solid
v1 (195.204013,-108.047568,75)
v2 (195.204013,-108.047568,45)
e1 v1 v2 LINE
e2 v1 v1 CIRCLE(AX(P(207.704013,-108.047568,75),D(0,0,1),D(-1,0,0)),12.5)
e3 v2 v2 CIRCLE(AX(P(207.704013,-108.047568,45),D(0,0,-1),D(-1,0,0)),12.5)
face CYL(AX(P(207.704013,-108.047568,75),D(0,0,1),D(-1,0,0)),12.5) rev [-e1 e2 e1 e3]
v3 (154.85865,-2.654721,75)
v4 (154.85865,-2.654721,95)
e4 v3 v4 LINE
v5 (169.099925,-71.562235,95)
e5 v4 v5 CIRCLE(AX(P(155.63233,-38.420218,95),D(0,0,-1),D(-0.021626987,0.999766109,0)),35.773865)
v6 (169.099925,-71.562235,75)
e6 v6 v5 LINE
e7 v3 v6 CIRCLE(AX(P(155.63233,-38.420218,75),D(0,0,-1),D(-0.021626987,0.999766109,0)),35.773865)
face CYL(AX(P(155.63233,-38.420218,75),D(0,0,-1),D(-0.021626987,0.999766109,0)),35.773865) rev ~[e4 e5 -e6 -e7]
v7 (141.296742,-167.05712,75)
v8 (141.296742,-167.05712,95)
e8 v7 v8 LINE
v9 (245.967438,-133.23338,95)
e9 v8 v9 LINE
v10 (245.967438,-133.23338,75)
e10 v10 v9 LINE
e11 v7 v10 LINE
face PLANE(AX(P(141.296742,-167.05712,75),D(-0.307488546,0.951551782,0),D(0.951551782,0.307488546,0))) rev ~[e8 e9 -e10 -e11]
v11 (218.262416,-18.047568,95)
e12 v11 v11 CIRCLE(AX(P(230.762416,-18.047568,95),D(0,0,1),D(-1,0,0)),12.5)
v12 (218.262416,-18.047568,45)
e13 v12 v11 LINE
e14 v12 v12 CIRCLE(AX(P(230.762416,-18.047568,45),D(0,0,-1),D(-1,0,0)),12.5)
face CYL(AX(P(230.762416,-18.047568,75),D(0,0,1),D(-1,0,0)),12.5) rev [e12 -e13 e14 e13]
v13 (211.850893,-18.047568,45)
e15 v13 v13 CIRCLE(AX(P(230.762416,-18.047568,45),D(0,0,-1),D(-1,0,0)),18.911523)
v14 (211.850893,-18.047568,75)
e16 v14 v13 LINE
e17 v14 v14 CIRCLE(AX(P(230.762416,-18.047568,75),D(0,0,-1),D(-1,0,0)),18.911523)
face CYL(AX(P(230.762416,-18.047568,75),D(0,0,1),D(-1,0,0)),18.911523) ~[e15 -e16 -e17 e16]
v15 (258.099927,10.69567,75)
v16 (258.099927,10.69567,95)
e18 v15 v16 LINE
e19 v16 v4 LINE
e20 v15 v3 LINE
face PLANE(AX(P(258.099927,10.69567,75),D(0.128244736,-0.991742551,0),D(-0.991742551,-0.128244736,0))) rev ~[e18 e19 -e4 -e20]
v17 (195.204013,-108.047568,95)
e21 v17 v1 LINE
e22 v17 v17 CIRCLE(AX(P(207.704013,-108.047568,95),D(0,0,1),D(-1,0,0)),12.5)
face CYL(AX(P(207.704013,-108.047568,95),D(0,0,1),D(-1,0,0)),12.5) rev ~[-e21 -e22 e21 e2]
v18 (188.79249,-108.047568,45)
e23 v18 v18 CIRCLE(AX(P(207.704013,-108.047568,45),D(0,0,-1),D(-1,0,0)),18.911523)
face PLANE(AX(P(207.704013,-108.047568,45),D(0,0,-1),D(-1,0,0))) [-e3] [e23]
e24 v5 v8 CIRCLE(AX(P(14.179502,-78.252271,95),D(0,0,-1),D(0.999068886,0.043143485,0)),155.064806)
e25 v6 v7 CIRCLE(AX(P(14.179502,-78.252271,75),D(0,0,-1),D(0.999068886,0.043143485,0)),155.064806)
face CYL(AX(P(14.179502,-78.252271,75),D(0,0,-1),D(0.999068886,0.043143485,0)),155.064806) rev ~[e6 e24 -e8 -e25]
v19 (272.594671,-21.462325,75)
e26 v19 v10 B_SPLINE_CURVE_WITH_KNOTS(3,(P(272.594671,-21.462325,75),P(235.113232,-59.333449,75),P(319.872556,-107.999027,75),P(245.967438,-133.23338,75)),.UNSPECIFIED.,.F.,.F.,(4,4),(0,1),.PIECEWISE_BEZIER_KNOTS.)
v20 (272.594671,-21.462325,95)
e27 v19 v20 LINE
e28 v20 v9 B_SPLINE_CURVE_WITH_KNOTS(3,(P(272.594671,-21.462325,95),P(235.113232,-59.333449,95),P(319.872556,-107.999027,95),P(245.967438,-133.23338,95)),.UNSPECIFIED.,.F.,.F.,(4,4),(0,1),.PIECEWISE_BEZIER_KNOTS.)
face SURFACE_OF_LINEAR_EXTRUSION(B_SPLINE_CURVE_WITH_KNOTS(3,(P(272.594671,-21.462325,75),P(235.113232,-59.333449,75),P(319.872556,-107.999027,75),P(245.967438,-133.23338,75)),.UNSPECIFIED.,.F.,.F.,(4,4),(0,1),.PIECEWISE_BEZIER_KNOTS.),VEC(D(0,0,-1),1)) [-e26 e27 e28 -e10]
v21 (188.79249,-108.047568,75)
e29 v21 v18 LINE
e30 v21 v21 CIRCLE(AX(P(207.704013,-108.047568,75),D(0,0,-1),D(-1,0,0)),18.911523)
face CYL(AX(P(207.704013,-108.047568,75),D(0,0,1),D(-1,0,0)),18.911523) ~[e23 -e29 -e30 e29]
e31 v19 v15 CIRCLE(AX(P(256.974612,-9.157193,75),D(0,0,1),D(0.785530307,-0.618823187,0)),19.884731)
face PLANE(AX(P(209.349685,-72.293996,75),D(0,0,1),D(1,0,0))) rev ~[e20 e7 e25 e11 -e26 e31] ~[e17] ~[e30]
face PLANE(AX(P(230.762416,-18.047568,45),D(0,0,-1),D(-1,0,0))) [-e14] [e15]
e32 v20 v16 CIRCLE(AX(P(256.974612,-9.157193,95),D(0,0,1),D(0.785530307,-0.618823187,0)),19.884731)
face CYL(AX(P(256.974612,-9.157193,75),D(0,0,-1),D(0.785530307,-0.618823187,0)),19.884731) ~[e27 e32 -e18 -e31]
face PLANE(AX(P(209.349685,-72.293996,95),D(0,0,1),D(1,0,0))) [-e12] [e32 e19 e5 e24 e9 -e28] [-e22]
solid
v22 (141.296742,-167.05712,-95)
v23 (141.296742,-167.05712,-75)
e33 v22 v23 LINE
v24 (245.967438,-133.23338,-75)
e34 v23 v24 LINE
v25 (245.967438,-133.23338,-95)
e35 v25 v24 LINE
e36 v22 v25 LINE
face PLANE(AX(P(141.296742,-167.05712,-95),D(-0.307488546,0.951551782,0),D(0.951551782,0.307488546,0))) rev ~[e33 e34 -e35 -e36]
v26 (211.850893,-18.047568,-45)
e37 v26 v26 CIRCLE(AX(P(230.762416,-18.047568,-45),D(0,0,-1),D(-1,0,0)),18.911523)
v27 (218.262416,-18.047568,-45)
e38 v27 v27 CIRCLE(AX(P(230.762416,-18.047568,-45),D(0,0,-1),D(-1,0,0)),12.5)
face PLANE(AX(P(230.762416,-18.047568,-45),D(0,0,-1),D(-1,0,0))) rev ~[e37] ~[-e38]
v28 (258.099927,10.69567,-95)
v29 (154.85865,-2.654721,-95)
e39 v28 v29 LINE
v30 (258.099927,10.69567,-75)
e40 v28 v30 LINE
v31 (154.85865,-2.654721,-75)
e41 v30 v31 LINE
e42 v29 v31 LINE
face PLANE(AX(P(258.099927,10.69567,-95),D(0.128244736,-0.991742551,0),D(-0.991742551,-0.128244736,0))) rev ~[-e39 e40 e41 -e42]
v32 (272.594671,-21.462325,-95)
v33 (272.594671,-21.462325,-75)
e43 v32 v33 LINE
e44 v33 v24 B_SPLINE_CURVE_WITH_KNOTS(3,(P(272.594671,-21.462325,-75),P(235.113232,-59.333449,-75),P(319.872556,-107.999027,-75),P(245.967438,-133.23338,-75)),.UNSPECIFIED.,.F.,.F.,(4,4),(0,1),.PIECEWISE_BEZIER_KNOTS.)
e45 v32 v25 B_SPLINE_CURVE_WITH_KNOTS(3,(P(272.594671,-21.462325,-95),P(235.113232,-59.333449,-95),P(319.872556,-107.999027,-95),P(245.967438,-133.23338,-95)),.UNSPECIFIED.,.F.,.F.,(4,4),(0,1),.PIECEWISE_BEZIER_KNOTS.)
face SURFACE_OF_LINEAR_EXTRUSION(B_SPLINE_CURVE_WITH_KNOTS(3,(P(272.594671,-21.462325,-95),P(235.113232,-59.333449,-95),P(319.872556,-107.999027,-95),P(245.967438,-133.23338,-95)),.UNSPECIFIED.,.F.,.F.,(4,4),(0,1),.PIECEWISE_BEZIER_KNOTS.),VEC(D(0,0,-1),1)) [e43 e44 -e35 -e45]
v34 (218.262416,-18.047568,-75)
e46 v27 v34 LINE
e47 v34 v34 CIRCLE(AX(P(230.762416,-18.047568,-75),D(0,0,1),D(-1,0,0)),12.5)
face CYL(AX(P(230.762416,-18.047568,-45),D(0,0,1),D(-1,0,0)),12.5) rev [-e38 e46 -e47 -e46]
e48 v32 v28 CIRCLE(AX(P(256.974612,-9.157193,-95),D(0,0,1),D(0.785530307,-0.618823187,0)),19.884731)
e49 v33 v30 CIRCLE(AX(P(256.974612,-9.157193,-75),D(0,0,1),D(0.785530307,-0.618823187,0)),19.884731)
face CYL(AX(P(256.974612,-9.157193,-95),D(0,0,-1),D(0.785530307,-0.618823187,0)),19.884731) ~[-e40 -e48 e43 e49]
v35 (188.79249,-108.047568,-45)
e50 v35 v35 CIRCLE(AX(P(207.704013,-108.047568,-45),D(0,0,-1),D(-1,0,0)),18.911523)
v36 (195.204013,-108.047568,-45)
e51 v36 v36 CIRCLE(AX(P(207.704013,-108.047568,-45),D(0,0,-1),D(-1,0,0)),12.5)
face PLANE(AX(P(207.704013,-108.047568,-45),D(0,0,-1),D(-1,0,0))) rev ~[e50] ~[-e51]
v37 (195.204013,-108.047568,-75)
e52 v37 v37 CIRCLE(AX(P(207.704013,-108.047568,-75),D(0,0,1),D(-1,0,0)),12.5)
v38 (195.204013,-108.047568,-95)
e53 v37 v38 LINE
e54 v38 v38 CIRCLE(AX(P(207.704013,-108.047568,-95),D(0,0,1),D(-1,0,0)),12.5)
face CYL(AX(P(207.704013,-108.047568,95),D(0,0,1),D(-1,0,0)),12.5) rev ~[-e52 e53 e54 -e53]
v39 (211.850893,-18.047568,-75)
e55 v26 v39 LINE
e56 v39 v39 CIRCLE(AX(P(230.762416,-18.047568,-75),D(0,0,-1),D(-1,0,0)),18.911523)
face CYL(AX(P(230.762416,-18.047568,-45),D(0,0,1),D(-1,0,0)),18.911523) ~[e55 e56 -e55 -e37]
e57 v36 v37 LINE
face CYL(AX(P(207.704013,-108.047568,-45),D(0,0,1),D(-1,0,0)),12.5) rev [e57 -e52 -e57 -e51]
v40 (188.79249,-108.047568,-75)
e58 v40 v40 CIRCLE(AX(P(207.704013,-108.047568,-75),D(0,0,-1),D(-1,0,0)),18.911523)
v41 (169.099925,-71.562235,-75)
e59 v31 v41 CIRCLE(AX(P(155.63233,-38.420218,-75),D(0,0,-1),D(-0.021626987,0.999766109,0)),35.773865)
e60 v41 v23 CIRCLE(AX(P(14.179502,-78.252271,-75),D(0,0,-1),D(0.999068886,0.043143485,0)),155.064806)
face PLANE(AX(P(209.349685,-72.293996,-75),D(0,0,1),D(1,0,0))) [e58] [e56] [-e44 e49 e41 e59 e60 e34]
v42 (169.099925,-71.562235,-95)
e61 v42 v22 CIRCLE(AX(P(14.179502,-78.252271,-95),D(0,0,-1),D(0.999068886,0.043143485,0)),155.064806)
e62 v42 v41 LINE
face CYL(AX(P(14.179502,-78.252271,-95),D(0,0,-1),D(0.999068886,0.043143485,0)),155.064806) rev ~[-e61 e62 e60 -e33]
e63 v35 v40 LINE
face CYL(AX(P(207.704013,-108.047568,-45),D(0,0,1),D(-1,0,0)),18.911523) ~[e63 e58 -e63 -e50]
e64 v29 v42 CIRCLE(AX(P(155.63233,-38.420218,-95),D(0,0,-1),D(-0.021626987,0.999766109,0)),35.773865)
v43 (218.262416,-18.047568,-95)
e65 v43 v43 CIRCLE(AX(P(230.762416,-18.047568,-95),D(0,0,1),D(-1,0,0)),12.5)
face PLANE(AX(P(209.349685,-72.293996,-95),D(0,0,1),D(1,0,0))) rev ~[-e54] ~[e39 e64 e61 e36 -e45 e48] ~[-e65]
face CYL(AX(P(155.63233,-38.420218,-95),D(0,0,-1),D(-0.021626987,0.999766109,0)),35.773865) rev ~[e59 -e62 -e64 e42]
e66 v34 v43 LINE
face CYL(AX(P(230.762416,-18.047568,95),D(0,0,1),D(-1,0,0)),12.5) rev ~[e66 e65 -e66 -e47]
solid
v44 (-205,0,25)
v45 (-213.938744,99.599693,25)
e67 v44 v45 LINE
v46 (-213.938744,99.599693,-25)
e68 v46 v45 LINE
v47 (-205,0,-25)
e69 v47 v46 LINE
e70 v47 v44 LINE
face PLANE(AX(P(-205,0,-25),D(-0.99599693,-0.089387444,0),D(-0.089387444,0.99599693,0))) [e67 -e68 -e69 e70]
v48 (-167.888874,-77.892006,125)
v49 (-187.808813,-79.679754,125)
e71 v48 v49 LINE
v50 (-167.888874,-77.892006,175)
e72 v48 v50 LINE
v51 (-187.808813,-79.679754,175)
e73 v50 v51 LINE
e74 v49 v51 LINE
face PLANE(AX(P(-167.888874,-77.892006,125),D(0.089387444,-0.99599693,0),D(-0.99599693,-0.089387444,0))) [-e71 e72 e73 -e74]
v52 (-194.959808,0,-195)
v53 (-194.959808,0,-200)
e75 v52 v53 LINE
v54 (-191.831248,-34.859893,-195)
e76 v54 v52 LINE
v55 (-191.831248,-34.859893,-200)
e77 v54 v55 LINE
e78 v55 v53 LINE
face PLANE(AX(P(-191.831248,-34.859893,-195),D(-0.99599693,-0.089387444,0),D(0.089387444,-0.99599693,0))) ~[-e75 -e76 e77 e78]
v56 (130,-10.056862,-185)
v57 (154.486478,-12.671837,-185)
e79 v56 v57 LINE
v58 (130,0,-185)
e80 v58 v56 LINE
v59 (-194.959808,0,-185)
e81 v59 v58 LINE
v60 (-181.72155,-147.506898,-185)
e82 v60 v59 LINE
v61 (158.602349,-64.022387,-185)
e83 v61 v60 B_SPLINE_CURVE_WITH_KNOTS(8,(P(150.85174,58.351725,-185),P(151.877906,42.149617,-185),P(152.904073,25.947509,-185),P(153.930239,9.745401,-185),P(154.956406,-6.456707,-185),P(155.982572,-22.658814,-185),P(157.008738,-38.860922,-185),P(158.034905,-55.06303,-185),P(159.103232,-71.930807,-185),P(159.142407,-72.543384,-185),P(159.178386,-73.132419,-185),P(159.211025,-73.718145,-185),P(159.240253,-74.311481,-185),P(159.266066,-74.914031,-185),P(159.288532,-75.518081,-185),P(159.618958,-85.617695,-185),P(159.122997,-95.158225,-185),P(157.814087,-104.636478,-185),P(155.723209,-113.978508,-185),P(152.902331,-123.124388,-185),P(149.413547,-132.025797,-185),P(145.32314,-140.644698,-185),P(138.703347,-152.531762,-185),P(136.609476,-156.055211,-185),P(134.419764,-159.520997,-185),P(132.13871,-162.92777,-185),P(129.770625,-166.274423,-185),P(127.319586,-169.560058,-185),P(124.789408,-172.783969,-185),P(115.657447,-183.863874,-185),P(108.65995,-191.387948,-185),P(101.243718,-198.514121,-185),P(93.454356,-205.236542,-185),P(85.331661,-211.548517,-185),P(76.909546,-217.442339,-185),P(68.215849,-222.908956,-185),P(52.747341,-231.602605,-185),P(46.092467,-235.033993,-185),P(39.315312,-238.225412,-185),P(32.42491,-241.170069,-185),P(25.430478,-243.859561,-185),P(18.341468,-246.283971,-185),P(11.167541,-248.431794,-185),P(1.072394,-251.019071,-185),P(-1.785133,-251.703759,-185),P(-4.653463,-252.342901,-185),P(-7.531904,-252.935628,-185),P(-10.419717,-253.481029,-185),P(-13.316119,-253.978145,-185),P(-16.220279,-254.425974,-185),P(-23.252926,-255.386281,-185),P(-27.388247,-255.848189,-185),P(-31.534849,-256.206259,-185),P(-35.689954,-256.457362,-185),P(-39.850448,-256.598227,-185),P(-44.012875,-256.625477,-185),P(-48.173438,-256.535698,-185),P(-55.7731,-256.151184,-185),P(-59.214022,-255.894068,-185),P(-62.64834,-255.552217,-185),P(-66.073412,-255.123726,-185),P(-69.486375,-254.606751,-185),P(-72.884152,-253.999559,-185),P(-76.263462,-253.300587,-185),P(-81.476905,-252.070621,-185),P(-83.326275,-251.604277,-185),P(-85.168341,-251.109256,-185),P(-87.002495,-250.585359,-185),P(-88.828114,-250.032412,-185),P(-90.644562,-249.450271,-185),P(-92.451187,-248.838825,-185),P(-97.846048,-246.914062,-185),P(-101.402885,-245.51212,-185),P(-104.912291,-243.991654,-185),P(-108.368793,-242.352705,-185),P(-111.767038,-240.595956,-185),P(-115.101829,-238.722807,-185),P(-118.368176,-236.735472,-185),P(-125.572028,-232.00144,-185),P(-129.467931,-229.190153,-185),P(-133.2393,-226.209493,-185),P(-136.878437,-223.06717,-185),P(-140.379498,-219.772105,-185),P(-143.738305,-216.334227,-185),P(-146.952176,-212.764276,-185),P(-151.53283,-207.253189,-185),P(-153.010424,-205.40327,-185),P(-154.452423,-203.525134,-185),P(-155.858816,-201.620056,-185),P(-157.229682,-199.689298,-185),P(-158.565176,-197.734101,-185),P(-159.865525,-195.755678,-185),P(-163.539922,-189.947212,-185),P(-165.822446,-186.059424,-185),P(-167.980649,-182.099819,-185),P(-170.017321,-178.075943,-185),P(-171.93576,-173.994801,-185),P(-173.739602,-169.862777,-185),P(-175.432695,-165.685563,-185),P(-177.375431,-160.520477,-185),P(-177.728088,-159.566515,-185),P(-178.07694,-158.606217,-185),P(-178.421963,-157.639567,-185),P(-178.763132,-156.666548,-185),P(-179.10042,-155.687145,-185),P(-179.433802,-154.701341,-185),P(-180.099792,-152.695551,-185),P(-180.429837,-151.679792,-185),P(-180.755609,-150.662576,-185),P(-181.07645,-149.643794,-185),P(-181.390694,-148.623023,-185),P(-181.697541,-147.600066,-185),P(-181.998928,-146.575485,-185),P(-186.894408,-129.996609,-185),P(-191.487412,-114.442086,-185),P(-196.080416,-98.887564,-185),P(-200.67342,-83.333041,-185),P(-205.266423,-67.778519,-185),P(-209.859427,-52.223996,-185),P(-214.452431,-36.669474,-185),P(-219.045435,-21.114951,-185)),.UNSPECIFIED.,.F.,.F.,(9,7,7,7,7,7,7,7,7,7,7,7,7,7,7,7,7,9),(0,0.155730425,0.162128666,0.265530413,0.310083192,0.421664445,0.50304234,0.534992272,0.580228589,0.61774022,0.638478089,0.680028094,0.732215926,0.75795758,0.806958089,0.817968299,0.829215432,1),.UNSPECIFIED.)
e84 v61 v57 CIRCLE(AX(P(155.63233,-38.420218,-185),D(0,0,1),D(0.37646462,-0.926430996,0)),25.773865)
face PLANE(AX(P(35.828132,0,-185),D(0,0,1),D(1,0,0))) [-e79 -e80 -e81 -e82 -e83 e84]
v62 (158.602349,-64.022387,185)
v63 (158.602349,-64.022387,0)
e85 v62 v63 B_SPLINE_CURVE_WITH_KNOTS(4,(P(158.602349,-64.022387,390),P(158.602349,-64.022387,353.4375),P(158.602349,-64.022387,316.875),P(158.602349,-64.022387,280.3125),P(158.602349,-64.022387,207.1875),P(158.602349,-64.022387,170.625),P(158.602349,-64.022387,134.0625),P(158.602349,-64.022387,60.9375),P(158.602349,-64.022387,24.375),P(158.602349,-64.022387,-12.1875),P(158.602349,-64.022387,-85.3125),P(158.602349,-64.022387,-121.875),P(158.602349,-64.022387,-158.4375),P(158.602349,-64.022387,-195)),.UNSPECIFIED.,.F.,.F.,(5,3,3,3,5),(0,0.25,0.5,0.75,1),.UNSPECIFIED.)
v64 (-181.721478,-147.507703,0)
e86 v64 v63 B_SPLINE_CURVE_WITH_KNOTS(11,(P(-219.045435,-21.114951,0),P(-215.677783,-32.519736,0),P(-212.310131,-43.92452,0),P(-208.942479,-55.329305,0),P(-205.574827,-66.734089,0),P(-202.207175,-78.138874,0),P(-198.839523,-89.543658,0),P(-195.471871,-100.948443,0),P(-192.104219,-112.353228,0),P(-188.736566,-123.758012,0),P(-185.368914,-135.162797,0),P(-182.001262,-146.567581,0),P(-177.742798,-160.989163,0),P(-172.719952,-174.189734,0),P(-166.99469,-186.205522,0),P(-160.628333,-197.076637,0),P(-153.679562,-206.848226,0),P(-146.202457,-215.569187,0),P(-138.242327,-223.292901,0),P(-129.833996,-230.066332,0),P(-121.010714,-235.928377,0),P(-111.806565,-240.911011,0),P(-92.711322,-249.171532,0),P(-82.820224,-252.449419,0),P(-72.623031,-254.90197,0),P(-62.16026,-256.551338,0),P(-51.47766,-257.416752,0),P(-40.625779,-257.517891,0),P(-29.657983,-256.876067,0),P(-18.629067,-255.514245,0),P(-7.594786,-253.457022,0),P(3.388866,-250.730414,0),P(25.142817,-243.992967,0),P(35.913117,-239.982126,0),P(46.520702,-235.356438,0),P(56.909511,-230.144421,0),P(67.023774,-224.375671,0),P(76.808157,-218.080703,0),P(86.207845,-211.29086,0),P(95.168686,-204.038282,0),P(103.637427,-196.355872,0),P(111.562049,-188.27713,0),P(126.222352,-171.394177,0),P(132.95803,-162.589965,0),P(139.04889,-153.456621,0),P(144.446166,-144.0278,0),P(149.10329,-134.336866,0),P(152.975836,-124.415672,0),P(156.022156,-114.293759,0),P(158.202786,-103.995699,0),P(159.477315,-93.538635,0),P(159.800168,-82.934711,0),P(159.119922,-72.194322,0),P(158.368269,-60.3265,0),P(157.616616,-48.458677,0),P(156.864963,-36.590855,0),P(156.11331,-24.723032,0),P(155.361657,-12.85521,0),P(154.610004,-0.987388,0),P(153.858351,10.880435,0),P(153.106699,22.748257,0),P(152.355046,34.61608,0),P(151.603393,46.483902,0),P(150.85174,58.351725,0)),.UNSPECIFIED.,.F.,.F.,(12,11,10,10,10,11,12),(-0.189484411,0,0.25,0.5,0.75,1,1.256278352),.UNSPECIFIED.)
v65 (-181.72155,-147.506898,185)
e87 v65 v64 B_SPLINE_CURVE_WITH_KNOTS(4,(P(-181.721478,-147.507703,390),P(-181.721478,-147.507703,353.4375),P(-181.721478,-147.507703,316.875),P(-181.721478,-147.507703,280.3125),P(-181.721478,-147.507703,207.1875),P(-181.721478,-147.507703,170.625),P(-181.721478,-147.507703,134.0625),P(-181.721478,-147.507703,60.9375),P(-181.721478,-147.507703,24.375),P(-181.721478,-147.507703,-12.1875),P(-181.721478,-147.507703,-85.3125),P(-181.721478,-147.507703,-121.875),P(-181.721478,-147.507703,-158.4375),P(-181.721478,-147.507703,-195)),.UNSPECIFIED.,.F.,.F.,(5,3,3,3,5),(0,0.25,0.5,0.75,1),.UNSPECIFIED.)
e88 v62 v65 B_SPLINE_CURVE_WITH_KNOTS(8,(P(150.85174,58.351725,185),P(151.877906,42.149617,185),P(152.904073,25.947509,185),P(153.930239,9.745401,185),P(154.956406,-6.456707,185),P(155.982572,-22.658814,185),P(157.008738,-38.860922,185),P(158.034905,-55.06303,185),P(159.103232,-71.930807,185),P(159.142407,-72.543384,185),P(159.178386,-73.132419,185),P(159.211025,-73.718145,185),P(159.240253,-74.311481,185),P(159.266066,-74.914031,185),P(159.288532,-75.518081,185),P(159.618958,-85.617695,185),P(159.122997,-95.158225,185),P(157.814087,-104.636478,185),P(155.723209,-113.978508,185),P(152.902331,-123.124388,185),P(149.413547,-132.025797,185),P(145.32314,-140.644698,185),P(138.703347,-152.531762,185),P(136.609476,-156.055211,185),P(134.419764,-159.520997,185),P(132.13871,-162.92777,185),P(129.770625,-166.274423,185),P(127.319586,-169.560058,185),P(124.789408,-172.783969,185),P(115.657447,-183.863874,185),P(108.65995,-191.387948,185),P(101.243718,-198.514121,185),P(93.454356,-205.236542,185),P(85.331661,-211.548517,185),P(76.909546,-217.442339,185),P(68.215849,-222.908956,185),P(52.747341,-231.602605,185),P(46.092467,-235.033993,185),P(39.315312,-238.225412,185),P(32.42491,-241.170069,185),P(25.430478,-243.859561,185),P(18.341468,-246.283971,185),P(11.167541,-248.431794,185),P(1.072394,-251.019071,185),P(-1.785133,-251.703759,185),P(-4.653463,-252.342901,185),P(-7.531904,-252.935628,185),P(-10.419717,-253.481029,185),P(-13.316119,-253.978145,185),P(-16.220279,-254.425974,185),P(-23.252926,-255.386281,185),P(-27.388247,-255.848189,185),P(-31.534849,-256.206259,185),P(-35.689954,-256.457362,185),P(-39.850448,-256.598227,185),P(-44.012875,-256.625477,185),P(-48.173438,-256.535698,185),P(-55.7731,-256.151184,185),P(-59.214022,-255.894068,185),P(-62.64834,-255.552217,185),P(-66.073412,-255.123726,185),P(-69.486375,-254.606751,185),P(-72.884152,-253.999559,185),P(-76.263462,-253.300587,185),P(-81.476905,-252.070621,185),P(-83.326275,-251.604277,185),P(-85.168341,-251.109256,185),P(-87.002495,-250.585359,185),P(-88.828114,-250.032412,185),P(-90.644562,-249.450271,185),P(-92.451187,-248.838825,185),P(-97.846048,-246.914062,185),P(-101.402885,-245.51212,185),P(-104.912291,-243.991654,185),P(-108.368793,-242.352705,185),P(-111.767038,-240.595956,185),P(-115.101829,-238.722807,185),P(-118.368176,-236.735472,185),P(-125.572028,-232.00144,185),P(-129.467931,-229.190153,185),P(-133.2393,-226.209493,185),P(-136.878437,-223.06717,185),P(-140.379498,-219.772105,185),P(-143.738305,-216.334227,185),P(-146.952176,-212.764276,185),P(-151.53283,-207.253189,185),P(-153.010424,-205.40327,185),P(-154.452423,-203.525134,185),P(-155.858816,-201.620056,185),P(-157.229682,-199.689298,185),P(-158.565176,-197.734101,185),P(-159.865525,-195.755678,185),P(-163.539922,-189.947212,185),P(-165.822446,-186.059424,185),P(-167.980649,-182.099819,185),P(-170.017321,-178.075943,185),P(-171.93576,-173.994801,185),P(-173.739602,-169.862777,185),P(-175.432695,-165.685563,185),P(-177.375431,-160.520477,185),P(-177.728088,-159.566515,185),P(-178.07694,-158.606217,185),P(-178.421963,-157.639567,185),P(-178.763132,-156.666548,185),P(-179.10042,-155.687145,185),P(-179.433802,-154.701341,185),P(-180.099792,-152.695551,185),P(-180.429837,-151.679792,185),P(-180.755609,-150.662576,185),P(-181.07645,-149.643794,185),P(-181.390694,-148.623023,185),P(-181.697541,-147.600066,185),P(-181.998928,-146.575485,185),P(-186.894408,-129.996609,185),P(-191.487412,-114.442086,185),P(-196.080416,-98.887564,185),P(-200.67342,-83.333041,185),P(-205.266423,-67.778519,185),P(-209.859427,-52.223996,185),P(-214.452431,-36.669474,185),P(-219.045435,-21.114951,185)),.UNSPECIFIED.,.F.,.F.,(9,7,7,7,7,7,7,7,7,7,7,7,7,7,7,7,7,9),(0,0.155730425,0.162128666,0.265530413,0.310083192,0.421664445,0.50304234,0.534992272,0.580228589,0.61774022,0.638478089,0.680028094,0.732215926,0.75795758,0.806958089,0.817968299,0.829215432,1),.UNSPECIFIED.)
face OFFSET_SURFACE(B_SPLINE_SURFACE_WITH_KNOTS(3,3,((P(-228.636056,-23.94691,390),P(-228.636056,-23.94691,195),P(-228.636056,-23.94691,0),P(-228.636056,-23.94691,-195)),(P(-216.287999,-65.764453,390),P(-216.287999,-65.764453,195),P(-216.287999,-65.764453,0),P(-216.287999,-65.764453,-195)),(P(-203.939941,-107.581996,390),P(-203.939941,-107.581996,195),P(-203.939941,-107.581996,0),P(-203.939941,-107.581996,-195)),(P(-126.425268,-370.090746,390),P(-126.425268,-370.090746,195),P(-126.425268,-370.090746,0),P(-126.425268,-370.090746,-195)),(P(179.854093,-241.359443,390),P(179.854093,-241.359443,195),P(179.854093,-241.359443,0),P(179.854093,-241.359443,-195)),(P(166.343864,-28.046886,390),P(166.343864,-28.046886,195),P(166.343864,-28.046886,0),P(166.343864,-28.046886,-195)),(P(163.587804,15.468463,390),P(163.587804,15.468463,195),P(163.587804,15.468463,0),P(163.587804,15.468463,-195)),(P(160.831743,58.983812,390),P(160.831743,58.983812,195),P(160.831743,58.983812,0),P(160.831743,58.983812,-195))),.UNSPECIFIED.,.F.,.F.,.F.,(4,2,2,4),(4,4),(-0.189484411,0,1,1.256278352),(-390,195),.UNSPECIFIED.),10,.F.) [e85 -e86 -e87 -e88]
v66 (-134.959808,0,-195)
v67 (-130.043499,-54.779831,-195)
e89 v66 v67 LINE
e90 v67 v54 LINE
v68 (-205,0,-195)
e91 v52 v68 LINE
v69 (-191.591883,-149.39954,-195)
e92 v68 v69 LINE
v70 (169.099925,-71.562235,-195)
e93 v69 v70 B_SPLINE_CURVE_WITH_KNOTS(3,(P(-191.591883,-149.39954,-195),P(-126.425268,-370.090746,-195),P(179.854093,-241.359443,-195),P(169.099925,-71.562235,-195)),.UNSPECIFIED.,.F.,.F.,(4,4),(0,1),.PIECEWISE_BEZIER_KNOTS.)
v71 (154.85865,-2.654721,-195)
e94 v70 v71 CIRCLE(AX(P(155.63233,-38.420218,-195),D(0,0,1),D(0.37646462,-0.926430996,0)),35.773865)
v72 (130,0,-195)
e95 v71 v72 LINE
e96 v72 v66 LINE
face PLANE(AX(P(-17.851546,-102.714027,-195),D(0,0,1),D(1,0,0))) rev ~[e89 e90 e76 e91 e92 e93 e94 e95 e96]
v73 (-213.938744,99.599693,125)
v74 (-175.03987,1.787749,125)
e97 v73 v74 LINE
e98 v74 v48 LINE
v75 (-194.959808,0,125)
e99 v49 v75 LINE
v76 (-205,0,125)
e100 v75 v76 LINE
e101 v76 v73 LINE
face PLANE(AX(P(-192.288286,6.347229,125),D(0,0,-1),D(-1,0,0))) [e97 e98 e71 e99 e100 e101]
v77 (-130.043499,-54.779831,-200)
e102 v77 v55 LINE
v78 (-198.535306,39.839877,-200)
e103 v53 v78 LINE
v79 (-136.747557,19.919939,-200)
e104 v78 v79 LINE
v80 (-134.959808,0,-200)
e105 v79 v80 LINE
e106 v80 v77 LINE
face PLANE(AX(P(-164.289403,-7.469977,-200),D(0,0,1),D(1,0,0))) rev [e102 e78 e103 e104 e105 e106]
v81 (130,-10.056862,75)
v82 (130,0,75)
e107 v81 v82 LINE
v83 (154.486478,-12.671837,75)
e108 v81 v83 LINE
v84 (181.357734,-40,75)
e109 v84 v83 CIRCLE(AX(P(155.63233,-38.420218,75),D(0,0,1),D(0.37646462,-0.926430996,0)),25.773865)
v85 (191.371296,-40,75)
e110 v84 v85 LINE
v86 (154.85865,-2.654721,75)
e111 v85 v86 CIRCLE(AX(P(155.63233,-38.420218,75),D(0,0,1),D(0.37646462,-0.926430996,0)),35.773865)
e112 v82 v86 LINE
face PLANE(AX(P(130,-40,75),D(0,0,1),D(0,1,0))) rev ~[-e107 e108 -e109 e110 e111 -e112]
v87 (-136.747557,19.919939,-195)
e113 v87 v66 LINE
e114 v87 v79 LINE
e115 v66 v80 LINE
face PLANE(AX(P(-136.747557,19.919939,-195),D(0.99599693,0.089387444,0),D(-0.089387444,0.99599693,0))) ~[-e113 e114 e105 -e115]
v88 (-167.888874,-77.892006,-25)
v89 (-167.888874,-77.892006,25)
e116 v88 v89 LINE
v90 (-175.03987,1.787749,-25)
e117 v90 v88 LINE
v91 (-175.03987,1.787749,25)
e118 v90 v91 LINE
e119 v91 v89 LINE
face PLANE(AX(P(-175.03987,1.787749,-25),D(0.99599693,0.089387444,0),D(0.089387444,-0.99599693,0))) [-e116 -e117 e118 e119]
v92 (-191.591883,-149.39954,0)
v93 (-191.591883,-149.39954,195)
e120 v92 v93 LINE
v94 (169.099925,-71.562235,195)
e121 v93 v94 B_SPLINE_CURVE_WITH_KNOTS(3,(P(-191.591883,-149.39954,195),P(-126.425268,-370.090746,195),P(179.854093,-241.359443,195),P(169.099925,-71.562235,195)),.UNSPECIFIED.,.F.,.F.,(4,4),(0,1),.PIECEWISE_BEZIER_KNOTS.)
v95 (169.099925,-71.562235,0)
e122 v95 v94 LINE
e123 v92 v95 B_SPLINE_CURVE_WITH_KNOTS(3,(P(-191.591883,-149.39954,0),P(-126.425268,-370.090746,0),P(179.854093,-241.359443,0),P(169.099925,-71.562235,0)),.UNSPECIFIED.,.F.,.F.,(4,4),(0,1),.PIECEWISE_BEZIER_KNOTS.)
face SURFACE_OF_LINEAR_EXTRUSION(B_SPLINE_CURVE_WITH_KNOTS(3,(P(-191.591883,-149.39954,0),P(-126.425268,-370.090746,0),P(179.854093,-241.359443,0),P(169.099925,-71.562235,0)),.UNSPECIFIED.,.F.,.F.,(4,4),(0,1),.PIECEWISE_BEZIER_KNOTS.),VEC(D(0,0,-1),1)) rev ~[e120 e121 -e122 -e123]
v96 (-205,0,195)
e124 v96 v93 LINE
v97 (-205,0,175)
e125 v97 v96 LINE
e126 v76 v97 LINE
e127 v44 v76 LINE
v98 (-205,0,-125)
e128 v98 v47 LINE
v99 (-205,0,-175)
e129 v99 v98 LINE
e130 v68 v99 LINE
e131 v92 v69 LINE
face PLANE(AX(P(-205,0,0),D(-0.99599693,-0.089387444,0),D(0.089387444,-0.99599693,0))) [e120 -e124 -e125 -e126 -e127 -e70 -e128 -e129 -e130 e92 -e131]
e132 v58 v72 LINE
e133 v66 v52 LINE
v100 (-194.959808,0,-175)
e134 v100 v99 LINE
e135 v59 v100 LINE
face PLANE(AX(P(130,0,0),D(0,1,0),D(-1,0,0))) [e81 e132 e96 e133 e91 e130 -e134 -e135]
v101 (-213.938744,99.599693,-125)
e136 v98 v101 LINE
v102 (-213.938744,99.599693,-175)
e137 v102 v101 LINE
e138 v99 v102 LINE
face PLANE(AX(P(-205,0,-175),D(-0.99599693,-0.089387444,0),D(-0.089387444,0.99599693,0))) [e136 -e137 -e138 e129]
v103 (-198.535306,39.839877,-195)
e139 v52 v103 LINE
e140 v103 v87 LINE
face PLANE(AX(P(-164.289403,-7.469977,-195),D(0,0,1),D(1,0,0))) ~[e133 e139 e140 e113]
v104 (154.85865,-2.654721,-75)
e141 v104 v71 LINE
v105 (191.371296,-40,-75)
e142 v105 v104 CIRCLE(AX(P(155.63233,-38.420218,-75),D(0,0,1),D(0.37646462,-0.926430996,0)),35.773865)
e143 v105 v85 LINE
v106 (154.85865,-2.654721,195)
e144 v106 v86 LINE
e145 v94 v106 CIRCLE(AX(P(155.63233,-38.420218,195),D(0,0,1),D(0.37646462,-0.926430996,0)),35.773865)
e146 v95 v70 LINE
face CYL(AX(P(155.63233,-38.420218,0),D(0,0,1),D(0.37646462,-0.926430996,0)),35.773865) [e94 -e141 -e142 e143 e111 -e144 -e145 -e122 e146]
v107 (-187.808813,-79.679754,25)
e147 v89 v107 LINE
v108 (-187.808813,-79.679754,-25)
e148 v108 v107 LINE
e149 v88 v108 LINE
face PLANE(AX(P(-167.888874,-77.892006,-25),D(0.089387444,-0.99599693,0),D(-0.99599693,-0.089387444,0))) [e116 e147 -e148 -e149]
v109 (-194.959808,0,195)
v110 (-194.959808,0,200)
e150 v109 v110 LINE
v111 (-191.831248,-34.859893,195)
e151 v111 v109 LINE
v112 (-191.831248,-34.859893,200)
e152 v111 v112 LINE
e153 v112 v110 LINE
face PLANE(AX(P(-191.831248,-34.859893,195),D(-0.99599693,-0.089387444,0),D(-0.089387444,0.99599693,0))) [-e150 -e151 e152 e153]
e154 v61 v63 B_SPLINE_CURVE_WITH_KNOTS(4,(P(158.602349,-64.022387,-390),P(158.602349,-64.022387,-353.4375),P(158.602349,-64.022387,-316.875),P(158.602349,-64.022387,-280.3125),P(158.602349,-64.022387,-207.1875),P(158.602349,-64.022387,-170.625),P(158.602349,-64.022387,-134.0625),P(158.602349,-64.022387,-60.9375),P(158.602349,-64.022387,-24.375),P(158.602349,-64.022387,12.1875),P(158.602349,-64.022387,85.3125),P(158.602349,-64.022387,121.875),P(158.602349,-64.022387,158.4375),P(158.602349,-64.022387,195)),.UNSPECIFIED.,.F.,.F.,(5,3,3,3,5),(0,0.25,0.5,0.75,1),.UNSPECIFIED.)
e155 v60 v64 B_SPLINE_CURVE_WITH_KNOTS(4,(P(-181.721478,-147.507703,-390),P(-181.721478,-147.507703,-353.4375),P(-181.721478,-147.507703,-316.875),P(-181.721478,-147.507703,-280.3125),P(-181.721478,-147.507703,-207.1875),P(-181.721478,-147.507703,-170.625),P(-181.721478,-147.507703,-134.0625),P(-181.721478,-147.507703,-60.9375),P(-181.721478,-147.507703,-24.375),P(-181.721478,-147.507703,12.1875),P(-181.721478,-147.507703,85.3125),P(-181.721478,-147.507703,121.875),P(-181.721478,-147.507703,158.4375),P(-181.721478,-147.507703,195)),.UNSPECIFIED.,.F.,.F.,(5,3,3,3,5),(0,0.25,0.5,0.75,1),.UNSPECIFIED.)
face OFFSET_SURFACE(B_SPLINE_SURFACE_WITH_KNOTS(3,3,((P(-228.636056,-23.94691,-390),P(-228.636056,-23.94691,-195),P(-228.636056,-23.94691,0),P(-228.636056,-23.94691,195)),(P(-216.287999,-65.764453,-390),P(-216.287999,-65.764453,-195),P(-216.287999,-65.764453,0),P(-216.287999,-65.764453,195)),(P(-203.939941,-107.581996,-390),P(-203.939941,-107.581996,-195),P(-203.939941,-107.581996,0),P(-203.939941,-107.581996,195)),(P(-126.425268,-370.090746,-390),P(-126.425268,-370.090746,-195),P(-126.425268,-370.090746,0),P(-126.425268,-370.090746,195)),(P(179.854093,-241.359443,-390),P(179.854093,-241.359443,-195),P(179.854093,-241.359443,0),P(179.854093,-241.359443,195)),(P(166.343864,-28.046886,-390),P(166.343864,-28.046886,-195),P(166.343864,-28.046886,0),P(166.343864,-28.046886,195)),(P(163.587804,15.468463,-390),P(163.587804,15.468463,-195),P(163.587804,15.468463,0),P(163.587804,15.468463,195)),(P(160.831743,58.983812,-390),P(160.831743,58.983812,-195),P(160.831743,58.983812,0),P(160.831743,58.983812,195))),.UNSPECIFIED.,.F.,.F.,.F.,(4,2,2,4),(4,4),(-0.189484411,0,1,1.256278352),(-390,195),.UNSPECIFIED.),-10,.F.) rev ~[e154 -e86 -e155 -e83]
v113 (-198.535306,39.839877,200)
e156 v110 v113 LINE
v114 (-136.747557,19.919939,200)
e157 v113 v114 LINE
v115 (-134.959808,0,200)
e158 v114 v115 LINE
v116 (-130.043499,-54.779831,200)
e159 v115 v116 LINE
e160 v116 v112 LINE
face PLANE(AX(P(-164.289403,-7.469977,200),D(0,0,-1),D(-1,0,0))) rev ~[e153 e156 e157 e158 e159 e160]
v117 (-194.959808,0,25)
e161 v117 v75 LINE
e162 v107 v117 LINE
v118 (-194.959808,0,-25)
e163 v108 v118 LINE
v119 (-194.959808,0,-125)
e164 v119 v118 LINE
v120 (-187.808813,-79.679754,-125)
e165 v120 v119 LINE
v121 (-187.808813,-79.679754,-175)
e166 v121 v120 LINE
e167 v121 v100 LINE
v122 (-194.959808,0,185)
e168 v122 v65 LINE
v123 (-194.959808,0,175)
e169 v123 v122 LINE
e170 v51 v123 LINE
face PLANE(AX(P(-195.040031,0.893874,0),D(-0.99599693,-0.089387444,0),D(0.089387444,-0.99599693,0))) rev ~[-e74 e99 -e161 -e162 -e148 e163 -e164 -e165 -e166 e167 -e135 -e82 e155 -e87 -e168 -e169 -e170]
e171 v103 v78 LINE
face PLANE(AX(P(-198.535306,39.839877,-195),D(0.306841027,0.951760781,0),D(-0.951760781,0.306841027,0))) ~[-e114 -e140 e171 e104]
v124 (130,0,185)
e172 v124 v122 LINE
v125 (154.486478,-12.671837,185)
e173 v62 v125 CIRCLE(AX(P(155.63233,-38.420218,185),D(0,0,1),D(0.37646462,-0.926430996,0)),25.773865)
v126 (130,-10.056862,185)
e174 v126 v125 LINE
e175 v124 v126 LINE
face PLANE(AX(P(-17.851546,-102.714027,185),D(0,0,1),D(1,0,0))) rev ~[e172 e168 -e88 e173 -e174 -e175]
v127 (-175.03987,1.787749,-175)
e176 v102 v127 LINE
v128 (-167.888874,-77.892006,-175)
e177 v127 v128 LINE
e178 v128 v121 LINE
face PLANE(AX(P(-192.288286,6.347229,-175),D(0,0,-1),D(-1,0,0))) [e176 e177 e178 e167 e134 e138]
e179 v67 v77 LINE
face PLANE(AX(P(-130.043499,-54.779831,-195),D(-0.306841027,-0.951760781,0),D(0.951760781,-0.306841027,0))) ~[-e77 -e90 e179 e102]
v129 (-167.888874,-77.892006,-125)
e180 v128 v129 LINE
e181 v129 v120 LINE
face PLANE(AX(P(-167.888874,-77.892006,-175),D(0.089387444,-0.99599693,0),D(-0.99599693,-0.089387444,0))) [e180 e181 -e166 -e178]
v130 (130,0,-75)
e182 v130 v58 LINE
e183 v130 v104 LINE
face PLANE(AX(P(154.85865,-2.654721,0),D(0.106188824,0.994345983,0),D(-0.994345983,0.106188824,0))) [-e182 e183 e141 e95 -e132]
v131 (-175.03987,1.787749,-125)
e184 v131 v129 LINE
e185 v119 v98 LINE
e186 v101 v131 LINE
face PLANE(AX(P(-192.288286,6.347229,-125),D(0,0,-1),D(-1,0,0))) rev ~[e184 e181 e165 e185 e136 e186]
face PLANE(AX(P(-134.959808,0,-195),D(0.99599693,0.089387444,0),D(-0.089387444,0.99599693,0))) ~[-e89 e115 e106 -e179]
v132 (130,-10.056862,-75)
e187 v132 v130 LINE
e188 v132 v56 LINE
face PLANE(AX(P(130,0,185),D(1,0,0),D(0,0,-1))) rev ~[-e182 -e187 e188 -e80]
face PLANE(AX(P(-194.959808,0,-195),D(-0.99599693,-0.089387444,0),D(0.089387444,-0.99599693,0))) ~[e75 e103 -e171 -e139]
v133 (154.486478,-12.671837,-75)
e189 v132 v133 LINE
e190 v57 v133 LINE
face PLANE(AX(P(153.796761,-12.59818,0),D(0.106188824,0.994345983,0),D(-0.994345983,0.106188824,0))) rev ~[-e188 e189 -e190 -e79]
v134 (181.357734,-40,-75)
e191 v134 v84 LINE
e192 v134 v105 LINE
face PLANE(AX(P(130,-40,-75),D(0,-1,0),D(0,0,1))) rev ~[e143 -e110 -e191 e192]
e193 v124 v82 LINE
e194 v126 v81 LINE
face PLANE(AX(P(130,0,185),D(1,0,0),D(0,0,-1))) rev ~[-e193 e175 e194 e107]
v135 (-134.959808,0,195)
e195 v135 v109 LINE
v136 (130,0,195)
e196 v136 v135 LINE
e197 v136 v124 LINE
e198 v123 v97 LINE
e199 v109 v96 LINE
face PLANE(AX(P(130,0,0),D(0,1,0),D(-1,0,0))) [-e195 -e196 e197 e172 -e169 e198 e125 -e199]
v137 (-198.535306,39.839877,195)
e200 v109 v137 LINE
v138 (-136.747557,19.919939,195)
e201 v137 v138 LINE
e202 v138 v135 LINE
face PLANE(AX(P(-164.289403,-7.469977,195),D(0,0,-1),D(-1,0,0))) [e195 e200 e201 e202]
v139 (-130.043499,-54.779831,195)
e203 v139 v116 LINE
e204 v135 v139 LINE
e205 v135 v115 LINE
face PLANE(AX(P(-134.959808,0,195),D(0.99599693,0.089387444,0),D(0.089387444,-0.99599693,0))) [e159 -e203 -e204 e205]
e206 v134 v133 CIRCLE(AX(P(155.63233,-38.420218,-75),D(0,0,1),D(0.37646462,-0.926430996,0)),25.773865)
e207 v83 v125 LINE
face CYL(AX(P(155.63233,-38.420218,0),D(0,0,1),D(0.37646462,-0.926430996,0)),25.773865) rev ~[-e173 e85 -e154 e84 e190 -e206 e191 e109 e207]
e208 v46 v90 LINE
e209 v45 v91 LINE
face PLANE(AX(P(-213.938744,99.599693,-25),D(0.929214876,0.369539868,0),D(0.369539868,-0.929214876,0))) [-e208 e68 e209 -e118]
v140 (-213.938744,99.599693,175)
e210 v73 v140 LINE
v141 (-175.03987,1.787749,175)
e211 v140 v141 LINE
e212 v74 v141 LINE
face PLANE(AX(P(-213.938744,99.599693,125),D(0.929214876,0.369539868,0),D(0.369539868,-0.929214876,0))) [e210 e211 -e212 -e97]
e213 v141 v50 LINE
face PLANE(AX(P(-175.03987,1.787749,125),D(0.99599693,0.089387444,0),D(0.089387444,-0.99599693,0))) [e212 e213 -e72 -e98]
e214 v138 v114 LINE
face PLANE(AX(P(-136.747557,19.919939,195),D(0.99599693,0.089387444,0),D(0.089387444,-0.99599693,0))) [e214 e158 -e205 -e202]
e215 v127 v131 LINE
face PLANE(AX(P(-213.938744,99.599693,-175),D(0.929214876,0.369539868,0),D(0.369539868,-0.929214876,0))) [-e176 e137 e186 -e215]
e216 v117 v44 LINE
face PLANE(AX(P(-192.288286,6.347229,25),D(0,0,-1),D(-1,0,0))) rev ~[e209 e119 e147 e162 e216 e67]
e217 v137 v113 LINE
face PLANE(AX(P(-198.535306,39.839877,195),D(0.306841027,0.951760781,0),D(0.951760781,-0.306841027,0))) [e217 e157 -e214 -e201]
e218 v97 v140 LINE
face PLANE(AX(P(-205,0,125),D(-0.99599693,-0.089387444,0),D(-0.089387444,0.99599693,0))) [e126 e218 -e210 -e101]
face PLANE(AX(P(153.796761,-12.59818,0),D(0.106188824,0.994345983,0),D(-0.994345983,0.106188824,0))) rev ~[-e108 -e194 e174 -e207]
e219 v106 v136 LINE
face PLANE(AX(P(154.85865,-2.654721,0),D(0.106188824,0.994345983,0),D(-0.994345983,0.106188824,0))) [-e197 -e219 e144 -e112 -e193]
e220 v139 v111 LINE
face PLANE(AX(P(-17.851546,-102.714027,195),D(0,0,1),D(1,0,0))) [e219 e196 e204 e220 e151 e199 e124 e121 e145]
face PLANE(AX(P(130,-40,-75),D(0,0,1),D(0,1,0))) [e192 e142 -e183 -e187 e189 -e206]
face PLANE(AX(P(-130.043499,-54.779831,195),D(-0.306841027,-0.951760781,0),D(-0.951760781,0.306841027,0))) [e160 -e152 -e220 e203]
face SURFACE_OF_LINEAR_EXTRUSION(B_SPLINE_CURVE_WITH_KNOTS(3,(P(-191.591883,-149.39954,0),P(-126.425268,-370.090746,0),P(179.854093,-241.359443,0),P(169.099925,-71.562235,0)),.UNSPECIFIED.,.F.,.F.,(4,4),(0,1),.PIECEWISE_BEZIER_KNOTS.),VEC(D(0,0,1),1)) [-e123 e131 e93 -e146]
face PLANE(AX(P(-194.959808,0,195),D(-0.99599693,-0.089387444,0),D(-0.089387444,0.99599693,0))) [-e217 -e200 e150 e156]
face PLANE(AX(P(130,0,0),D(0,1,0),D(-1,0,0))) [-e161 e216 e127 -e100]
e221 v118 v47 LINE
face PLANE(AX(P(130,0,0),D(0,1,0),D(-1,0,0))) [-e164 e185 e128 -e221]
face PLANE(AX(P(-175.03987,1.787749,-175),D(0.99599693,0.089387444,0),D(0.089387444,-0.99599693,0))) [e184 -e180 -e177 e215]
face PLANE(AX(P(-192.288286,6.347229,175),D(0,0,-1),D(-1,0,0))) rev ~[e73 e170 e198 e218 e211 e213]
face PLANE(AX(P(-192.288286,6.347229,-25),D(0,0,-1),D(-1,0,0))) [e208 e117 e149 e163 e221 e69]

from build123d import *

# Parameters (mm, degrees)
BASIC_GEOMETRY_DEPTH   = 195
REMOVE_MATERIAL_T      = -10
TEETH_START            = 10
TEETH_DEPTH            = 50
SKETCH2_W              = 94.171868374
SKETCH2_H              = 370
REMOVE_MATERIAL2_DEPTH = 50
TEETH_PATTERN_COUNT    = 3
TEETH_PATTERN_PITCH    = 150
SIDE_PLATE_DEPTH       = 5
BOSS_EXTRUDE6_START    = 75
BOSS_EXTRUDE6_DEPTH    = 20
LPATTERN4_COUNT        = 2
LPATTERN4_PITCH        = 170
SKETCH10_R             = 12.5
CUT_EXTRUDE4_DEPTH     = 485.783096914
SKETCH11_R             = 18.911522993
SKETCH11_R_2           = 12.5
BOSS_EXTRUDE7_DEPTH    = 30
LPATTERN7_COUNT        = 2
LPATTERN7_PITCH        = 120
SKETCH13_W             = 150
SKETCH13_H             = 40
CUT_EXTRUDE5_DEPTH     = 70


with BuildPart() as part:
    # Sketch1 → Basic_geometry (new, symmetric)
    with BuildSketch(Plane.XY):
        with BuildLine():
            Line((130, 0), (-130, 0))
            Line((-130, 0), (-205, 0))
            Line((-205, 0), (-191.591883356, -149.399539518))
            add(Edge.make_bspline(
                [(-191.591883356, -149.399539518), (-126.425268405, -370.090746117), (179.854093021, -241.359443475), (169.099924805, -71.562234879)],
                knots=[0, 0, 0, 0, 1, 1, 1, 1], degree=3))
            ThreePointArc((169.099924805, -71.562234879), (190.665817888, -31.179766144), (154.858649571, -2.654720612))
            Line((154.858649571, -2.654720612), (130, 0))
        make_face()
    extrude(amount=BASIC_GEOMETRY_DEPTH, both=True)

    # Remove_material
    remove_material_openings = [part.faces().sort_by_distance(p)[0] for p in [
        (-37.5, 0, 0),
    ]]
    offset(amount=REMOVE_MATERIAL_T, openings=remove_material_openings, kind=Kind.INTERSECTION)

    # Sketch7 → Teeth (add)
    with BuildSketch(Plane.XY.offset(-185).offset(TEETH_START)):
        Polygon((-205, 0), (-213.938744429, 99.599693012), (-175.039869809, 1.787748886), (-167.888874266, -77.892005523), (-187.808812868, -79.679754409), (-194.959808411, 0), align=None)
    teeth = extrude(amount=TEETH_DEPTH)

    # Sketch2 → Remove_material2 (cut)
    with BuildSketch(Plane(origin=(0, 0, 0), x_dir=(1, 0, 0), z_dir=(0, 1, 0))):
        with Locations((82.914065813, 0)):
            Rectangle(SKETCH2_W, SKETCH2_H)
    extrude(amount=-REMOVE_MATERIAL2_DEPTH, mode=Mode.SUBTRACT)

    # Teeth_pattern: Teeth ×3
    with Locations(*[(0, 0, i * TEETH_PATTERN_PITCH) for i in range(1, TEETH_PATTERN_COUNT)]):
        add(teeth)

    # Sketch8 → Side_plate (add)
    with BuildSketch(Plane.XY.offset(195)):
        Polygon((-194.959808411, 0), (-198.535306183, 39.839877205), (-136.747557297, 19.919938602), (-134.959808411, 0), (-130.043498975, -54.779831156), (-191.831247861, -34.859892554), align=None)
    side_plate = extrude(amount=SIDE_PLATE_DEPTH)

    # Side_plate_mirror: Side_plate across plane
    add(side_plate.mirror(Plane.XY))

    # Sketch13 → Cut-Extrude5 (cut)
    with BuildSketch(Plane.ZY.offset(-130)):
        with Locations((0, -20)):
            Rectangle(SKETCH13_W, SKETCH13_H)
    extrude(amount=-CUT_EXTRUDE5_DEPTH, mode=Mode.SUBTRACT)


with BuildPart() as body_2:
    # Sketch9 → Boss-Extrude6 (new body)
    with BuildSketch(Plane.XY.offset(BOSS_EXTRUDE6_START)):
        with BuildLine():
            Line((141.296742224, -167.057120142), (245.967438276, -133.233380134))
            add(Edge.make_bspline(
                [(272.594670811, -21.462325491), (235.113232038, -59.333448742), (319.872555968, -107.999027182), (245.967438276, -133.233380134)],
                knots=[0, 0, 0, 0, 1, 1, 1, 1], degree=3))
            ThreePointArc((272.594670811, -21.462325491), (275.102934155, -0.986118764), (258.099927413, 10.695669998))
            Line((258.099927413, 10.695669998), (154.858649571, -2.654720612))
            ThreePointArc((154.858649571, -2.654720612), (190.665817888, -31.179766144), (169.099924805, -71.562234879))
            ThreePointArc((169.099924805, -71.562234879), (163.062439638, -121.599299387), (141.296742224, -167.057120142))
        make_face()
    boss_extrude6 = extrude(amount=BOSS_EXTRUDE6_DEPTH)


with BuildPart() as lpattern4_1:
    # LPattern4: Boss-Extrude6 ×2
    with Locations(*[(0, 0, -i * LPATTERN4_PITCH) for i in range(1, LPATTERN4_COUNT)]):
        add(boss_extrude6)


with BuildPart() as cut_extrude4_tool:
    # Sketch10 → Cut-Extrude4 (new, through all)
    with BuildSketch(Plane.XY.offset(95)):
        with Locations(Location((230.762415937, -18.047567767, 0), (0, 0, 180))):
            Circle(SKETCH10_R)
        with Locations(Location((207.704013235, -108.047567767, 0), (0, 0, 180))):
            Circle(SKETCH10_R)
    extrude(amount=-CUT_EXTRUDE4_DEPTH)


with BuildPart() as body_2_1:
    add(body_2.part)

    # Cut-Extrude4: cut by cut_extrude4_tool
    add(cut_extrude4_tool.part, mode=Mode.SUBTRACT)

    # Sketch11 → Boss-Extrude7 (add)
    with BuildSketch(Plane(origin=(0, 0, 75), x_dir=(-1, 0, 0), z_dir=(0, 0, -1))):
        with Locations((-230.762415937, -18.047567767)):
            Circle(SKETCH11_R)
        with Locations((-230.762415937, -18.047567767)):
            Circle(SKETCH11_R_2, mode=Mode.SUBTRACT)
        with Locations((-207.704013235, -108.047567767)):
            Circle(SKETCH11_R)
        with Locations((-207.704013235, -108.047567767)):
            Circle(SKETCH11_R_2, mode=Mode.SUBTRACT)
    boss_extrude7 = extrude(amount=BOSS_EXTRUDE7_DEPTH)


with BuildPart() as lpattern4_1_1:
    add(lpattern4_1.part)

    # Cut-Extrude4: cut by cut_extrude4_tool
    add(cut_extrude4_tool.part, mode=Mode.SUBTRACT)

    # LPattern7: Boss-Extrude7 ×2
    with Locations(*[(0, 0, -i * LPATTERN7_PITCH) for i in range(1, LPATTERN7_COUNT)]):
        add(boss_extrude7)


solid = Compound([part.part, body_2_1.part, lpattern4_1_1.part])
